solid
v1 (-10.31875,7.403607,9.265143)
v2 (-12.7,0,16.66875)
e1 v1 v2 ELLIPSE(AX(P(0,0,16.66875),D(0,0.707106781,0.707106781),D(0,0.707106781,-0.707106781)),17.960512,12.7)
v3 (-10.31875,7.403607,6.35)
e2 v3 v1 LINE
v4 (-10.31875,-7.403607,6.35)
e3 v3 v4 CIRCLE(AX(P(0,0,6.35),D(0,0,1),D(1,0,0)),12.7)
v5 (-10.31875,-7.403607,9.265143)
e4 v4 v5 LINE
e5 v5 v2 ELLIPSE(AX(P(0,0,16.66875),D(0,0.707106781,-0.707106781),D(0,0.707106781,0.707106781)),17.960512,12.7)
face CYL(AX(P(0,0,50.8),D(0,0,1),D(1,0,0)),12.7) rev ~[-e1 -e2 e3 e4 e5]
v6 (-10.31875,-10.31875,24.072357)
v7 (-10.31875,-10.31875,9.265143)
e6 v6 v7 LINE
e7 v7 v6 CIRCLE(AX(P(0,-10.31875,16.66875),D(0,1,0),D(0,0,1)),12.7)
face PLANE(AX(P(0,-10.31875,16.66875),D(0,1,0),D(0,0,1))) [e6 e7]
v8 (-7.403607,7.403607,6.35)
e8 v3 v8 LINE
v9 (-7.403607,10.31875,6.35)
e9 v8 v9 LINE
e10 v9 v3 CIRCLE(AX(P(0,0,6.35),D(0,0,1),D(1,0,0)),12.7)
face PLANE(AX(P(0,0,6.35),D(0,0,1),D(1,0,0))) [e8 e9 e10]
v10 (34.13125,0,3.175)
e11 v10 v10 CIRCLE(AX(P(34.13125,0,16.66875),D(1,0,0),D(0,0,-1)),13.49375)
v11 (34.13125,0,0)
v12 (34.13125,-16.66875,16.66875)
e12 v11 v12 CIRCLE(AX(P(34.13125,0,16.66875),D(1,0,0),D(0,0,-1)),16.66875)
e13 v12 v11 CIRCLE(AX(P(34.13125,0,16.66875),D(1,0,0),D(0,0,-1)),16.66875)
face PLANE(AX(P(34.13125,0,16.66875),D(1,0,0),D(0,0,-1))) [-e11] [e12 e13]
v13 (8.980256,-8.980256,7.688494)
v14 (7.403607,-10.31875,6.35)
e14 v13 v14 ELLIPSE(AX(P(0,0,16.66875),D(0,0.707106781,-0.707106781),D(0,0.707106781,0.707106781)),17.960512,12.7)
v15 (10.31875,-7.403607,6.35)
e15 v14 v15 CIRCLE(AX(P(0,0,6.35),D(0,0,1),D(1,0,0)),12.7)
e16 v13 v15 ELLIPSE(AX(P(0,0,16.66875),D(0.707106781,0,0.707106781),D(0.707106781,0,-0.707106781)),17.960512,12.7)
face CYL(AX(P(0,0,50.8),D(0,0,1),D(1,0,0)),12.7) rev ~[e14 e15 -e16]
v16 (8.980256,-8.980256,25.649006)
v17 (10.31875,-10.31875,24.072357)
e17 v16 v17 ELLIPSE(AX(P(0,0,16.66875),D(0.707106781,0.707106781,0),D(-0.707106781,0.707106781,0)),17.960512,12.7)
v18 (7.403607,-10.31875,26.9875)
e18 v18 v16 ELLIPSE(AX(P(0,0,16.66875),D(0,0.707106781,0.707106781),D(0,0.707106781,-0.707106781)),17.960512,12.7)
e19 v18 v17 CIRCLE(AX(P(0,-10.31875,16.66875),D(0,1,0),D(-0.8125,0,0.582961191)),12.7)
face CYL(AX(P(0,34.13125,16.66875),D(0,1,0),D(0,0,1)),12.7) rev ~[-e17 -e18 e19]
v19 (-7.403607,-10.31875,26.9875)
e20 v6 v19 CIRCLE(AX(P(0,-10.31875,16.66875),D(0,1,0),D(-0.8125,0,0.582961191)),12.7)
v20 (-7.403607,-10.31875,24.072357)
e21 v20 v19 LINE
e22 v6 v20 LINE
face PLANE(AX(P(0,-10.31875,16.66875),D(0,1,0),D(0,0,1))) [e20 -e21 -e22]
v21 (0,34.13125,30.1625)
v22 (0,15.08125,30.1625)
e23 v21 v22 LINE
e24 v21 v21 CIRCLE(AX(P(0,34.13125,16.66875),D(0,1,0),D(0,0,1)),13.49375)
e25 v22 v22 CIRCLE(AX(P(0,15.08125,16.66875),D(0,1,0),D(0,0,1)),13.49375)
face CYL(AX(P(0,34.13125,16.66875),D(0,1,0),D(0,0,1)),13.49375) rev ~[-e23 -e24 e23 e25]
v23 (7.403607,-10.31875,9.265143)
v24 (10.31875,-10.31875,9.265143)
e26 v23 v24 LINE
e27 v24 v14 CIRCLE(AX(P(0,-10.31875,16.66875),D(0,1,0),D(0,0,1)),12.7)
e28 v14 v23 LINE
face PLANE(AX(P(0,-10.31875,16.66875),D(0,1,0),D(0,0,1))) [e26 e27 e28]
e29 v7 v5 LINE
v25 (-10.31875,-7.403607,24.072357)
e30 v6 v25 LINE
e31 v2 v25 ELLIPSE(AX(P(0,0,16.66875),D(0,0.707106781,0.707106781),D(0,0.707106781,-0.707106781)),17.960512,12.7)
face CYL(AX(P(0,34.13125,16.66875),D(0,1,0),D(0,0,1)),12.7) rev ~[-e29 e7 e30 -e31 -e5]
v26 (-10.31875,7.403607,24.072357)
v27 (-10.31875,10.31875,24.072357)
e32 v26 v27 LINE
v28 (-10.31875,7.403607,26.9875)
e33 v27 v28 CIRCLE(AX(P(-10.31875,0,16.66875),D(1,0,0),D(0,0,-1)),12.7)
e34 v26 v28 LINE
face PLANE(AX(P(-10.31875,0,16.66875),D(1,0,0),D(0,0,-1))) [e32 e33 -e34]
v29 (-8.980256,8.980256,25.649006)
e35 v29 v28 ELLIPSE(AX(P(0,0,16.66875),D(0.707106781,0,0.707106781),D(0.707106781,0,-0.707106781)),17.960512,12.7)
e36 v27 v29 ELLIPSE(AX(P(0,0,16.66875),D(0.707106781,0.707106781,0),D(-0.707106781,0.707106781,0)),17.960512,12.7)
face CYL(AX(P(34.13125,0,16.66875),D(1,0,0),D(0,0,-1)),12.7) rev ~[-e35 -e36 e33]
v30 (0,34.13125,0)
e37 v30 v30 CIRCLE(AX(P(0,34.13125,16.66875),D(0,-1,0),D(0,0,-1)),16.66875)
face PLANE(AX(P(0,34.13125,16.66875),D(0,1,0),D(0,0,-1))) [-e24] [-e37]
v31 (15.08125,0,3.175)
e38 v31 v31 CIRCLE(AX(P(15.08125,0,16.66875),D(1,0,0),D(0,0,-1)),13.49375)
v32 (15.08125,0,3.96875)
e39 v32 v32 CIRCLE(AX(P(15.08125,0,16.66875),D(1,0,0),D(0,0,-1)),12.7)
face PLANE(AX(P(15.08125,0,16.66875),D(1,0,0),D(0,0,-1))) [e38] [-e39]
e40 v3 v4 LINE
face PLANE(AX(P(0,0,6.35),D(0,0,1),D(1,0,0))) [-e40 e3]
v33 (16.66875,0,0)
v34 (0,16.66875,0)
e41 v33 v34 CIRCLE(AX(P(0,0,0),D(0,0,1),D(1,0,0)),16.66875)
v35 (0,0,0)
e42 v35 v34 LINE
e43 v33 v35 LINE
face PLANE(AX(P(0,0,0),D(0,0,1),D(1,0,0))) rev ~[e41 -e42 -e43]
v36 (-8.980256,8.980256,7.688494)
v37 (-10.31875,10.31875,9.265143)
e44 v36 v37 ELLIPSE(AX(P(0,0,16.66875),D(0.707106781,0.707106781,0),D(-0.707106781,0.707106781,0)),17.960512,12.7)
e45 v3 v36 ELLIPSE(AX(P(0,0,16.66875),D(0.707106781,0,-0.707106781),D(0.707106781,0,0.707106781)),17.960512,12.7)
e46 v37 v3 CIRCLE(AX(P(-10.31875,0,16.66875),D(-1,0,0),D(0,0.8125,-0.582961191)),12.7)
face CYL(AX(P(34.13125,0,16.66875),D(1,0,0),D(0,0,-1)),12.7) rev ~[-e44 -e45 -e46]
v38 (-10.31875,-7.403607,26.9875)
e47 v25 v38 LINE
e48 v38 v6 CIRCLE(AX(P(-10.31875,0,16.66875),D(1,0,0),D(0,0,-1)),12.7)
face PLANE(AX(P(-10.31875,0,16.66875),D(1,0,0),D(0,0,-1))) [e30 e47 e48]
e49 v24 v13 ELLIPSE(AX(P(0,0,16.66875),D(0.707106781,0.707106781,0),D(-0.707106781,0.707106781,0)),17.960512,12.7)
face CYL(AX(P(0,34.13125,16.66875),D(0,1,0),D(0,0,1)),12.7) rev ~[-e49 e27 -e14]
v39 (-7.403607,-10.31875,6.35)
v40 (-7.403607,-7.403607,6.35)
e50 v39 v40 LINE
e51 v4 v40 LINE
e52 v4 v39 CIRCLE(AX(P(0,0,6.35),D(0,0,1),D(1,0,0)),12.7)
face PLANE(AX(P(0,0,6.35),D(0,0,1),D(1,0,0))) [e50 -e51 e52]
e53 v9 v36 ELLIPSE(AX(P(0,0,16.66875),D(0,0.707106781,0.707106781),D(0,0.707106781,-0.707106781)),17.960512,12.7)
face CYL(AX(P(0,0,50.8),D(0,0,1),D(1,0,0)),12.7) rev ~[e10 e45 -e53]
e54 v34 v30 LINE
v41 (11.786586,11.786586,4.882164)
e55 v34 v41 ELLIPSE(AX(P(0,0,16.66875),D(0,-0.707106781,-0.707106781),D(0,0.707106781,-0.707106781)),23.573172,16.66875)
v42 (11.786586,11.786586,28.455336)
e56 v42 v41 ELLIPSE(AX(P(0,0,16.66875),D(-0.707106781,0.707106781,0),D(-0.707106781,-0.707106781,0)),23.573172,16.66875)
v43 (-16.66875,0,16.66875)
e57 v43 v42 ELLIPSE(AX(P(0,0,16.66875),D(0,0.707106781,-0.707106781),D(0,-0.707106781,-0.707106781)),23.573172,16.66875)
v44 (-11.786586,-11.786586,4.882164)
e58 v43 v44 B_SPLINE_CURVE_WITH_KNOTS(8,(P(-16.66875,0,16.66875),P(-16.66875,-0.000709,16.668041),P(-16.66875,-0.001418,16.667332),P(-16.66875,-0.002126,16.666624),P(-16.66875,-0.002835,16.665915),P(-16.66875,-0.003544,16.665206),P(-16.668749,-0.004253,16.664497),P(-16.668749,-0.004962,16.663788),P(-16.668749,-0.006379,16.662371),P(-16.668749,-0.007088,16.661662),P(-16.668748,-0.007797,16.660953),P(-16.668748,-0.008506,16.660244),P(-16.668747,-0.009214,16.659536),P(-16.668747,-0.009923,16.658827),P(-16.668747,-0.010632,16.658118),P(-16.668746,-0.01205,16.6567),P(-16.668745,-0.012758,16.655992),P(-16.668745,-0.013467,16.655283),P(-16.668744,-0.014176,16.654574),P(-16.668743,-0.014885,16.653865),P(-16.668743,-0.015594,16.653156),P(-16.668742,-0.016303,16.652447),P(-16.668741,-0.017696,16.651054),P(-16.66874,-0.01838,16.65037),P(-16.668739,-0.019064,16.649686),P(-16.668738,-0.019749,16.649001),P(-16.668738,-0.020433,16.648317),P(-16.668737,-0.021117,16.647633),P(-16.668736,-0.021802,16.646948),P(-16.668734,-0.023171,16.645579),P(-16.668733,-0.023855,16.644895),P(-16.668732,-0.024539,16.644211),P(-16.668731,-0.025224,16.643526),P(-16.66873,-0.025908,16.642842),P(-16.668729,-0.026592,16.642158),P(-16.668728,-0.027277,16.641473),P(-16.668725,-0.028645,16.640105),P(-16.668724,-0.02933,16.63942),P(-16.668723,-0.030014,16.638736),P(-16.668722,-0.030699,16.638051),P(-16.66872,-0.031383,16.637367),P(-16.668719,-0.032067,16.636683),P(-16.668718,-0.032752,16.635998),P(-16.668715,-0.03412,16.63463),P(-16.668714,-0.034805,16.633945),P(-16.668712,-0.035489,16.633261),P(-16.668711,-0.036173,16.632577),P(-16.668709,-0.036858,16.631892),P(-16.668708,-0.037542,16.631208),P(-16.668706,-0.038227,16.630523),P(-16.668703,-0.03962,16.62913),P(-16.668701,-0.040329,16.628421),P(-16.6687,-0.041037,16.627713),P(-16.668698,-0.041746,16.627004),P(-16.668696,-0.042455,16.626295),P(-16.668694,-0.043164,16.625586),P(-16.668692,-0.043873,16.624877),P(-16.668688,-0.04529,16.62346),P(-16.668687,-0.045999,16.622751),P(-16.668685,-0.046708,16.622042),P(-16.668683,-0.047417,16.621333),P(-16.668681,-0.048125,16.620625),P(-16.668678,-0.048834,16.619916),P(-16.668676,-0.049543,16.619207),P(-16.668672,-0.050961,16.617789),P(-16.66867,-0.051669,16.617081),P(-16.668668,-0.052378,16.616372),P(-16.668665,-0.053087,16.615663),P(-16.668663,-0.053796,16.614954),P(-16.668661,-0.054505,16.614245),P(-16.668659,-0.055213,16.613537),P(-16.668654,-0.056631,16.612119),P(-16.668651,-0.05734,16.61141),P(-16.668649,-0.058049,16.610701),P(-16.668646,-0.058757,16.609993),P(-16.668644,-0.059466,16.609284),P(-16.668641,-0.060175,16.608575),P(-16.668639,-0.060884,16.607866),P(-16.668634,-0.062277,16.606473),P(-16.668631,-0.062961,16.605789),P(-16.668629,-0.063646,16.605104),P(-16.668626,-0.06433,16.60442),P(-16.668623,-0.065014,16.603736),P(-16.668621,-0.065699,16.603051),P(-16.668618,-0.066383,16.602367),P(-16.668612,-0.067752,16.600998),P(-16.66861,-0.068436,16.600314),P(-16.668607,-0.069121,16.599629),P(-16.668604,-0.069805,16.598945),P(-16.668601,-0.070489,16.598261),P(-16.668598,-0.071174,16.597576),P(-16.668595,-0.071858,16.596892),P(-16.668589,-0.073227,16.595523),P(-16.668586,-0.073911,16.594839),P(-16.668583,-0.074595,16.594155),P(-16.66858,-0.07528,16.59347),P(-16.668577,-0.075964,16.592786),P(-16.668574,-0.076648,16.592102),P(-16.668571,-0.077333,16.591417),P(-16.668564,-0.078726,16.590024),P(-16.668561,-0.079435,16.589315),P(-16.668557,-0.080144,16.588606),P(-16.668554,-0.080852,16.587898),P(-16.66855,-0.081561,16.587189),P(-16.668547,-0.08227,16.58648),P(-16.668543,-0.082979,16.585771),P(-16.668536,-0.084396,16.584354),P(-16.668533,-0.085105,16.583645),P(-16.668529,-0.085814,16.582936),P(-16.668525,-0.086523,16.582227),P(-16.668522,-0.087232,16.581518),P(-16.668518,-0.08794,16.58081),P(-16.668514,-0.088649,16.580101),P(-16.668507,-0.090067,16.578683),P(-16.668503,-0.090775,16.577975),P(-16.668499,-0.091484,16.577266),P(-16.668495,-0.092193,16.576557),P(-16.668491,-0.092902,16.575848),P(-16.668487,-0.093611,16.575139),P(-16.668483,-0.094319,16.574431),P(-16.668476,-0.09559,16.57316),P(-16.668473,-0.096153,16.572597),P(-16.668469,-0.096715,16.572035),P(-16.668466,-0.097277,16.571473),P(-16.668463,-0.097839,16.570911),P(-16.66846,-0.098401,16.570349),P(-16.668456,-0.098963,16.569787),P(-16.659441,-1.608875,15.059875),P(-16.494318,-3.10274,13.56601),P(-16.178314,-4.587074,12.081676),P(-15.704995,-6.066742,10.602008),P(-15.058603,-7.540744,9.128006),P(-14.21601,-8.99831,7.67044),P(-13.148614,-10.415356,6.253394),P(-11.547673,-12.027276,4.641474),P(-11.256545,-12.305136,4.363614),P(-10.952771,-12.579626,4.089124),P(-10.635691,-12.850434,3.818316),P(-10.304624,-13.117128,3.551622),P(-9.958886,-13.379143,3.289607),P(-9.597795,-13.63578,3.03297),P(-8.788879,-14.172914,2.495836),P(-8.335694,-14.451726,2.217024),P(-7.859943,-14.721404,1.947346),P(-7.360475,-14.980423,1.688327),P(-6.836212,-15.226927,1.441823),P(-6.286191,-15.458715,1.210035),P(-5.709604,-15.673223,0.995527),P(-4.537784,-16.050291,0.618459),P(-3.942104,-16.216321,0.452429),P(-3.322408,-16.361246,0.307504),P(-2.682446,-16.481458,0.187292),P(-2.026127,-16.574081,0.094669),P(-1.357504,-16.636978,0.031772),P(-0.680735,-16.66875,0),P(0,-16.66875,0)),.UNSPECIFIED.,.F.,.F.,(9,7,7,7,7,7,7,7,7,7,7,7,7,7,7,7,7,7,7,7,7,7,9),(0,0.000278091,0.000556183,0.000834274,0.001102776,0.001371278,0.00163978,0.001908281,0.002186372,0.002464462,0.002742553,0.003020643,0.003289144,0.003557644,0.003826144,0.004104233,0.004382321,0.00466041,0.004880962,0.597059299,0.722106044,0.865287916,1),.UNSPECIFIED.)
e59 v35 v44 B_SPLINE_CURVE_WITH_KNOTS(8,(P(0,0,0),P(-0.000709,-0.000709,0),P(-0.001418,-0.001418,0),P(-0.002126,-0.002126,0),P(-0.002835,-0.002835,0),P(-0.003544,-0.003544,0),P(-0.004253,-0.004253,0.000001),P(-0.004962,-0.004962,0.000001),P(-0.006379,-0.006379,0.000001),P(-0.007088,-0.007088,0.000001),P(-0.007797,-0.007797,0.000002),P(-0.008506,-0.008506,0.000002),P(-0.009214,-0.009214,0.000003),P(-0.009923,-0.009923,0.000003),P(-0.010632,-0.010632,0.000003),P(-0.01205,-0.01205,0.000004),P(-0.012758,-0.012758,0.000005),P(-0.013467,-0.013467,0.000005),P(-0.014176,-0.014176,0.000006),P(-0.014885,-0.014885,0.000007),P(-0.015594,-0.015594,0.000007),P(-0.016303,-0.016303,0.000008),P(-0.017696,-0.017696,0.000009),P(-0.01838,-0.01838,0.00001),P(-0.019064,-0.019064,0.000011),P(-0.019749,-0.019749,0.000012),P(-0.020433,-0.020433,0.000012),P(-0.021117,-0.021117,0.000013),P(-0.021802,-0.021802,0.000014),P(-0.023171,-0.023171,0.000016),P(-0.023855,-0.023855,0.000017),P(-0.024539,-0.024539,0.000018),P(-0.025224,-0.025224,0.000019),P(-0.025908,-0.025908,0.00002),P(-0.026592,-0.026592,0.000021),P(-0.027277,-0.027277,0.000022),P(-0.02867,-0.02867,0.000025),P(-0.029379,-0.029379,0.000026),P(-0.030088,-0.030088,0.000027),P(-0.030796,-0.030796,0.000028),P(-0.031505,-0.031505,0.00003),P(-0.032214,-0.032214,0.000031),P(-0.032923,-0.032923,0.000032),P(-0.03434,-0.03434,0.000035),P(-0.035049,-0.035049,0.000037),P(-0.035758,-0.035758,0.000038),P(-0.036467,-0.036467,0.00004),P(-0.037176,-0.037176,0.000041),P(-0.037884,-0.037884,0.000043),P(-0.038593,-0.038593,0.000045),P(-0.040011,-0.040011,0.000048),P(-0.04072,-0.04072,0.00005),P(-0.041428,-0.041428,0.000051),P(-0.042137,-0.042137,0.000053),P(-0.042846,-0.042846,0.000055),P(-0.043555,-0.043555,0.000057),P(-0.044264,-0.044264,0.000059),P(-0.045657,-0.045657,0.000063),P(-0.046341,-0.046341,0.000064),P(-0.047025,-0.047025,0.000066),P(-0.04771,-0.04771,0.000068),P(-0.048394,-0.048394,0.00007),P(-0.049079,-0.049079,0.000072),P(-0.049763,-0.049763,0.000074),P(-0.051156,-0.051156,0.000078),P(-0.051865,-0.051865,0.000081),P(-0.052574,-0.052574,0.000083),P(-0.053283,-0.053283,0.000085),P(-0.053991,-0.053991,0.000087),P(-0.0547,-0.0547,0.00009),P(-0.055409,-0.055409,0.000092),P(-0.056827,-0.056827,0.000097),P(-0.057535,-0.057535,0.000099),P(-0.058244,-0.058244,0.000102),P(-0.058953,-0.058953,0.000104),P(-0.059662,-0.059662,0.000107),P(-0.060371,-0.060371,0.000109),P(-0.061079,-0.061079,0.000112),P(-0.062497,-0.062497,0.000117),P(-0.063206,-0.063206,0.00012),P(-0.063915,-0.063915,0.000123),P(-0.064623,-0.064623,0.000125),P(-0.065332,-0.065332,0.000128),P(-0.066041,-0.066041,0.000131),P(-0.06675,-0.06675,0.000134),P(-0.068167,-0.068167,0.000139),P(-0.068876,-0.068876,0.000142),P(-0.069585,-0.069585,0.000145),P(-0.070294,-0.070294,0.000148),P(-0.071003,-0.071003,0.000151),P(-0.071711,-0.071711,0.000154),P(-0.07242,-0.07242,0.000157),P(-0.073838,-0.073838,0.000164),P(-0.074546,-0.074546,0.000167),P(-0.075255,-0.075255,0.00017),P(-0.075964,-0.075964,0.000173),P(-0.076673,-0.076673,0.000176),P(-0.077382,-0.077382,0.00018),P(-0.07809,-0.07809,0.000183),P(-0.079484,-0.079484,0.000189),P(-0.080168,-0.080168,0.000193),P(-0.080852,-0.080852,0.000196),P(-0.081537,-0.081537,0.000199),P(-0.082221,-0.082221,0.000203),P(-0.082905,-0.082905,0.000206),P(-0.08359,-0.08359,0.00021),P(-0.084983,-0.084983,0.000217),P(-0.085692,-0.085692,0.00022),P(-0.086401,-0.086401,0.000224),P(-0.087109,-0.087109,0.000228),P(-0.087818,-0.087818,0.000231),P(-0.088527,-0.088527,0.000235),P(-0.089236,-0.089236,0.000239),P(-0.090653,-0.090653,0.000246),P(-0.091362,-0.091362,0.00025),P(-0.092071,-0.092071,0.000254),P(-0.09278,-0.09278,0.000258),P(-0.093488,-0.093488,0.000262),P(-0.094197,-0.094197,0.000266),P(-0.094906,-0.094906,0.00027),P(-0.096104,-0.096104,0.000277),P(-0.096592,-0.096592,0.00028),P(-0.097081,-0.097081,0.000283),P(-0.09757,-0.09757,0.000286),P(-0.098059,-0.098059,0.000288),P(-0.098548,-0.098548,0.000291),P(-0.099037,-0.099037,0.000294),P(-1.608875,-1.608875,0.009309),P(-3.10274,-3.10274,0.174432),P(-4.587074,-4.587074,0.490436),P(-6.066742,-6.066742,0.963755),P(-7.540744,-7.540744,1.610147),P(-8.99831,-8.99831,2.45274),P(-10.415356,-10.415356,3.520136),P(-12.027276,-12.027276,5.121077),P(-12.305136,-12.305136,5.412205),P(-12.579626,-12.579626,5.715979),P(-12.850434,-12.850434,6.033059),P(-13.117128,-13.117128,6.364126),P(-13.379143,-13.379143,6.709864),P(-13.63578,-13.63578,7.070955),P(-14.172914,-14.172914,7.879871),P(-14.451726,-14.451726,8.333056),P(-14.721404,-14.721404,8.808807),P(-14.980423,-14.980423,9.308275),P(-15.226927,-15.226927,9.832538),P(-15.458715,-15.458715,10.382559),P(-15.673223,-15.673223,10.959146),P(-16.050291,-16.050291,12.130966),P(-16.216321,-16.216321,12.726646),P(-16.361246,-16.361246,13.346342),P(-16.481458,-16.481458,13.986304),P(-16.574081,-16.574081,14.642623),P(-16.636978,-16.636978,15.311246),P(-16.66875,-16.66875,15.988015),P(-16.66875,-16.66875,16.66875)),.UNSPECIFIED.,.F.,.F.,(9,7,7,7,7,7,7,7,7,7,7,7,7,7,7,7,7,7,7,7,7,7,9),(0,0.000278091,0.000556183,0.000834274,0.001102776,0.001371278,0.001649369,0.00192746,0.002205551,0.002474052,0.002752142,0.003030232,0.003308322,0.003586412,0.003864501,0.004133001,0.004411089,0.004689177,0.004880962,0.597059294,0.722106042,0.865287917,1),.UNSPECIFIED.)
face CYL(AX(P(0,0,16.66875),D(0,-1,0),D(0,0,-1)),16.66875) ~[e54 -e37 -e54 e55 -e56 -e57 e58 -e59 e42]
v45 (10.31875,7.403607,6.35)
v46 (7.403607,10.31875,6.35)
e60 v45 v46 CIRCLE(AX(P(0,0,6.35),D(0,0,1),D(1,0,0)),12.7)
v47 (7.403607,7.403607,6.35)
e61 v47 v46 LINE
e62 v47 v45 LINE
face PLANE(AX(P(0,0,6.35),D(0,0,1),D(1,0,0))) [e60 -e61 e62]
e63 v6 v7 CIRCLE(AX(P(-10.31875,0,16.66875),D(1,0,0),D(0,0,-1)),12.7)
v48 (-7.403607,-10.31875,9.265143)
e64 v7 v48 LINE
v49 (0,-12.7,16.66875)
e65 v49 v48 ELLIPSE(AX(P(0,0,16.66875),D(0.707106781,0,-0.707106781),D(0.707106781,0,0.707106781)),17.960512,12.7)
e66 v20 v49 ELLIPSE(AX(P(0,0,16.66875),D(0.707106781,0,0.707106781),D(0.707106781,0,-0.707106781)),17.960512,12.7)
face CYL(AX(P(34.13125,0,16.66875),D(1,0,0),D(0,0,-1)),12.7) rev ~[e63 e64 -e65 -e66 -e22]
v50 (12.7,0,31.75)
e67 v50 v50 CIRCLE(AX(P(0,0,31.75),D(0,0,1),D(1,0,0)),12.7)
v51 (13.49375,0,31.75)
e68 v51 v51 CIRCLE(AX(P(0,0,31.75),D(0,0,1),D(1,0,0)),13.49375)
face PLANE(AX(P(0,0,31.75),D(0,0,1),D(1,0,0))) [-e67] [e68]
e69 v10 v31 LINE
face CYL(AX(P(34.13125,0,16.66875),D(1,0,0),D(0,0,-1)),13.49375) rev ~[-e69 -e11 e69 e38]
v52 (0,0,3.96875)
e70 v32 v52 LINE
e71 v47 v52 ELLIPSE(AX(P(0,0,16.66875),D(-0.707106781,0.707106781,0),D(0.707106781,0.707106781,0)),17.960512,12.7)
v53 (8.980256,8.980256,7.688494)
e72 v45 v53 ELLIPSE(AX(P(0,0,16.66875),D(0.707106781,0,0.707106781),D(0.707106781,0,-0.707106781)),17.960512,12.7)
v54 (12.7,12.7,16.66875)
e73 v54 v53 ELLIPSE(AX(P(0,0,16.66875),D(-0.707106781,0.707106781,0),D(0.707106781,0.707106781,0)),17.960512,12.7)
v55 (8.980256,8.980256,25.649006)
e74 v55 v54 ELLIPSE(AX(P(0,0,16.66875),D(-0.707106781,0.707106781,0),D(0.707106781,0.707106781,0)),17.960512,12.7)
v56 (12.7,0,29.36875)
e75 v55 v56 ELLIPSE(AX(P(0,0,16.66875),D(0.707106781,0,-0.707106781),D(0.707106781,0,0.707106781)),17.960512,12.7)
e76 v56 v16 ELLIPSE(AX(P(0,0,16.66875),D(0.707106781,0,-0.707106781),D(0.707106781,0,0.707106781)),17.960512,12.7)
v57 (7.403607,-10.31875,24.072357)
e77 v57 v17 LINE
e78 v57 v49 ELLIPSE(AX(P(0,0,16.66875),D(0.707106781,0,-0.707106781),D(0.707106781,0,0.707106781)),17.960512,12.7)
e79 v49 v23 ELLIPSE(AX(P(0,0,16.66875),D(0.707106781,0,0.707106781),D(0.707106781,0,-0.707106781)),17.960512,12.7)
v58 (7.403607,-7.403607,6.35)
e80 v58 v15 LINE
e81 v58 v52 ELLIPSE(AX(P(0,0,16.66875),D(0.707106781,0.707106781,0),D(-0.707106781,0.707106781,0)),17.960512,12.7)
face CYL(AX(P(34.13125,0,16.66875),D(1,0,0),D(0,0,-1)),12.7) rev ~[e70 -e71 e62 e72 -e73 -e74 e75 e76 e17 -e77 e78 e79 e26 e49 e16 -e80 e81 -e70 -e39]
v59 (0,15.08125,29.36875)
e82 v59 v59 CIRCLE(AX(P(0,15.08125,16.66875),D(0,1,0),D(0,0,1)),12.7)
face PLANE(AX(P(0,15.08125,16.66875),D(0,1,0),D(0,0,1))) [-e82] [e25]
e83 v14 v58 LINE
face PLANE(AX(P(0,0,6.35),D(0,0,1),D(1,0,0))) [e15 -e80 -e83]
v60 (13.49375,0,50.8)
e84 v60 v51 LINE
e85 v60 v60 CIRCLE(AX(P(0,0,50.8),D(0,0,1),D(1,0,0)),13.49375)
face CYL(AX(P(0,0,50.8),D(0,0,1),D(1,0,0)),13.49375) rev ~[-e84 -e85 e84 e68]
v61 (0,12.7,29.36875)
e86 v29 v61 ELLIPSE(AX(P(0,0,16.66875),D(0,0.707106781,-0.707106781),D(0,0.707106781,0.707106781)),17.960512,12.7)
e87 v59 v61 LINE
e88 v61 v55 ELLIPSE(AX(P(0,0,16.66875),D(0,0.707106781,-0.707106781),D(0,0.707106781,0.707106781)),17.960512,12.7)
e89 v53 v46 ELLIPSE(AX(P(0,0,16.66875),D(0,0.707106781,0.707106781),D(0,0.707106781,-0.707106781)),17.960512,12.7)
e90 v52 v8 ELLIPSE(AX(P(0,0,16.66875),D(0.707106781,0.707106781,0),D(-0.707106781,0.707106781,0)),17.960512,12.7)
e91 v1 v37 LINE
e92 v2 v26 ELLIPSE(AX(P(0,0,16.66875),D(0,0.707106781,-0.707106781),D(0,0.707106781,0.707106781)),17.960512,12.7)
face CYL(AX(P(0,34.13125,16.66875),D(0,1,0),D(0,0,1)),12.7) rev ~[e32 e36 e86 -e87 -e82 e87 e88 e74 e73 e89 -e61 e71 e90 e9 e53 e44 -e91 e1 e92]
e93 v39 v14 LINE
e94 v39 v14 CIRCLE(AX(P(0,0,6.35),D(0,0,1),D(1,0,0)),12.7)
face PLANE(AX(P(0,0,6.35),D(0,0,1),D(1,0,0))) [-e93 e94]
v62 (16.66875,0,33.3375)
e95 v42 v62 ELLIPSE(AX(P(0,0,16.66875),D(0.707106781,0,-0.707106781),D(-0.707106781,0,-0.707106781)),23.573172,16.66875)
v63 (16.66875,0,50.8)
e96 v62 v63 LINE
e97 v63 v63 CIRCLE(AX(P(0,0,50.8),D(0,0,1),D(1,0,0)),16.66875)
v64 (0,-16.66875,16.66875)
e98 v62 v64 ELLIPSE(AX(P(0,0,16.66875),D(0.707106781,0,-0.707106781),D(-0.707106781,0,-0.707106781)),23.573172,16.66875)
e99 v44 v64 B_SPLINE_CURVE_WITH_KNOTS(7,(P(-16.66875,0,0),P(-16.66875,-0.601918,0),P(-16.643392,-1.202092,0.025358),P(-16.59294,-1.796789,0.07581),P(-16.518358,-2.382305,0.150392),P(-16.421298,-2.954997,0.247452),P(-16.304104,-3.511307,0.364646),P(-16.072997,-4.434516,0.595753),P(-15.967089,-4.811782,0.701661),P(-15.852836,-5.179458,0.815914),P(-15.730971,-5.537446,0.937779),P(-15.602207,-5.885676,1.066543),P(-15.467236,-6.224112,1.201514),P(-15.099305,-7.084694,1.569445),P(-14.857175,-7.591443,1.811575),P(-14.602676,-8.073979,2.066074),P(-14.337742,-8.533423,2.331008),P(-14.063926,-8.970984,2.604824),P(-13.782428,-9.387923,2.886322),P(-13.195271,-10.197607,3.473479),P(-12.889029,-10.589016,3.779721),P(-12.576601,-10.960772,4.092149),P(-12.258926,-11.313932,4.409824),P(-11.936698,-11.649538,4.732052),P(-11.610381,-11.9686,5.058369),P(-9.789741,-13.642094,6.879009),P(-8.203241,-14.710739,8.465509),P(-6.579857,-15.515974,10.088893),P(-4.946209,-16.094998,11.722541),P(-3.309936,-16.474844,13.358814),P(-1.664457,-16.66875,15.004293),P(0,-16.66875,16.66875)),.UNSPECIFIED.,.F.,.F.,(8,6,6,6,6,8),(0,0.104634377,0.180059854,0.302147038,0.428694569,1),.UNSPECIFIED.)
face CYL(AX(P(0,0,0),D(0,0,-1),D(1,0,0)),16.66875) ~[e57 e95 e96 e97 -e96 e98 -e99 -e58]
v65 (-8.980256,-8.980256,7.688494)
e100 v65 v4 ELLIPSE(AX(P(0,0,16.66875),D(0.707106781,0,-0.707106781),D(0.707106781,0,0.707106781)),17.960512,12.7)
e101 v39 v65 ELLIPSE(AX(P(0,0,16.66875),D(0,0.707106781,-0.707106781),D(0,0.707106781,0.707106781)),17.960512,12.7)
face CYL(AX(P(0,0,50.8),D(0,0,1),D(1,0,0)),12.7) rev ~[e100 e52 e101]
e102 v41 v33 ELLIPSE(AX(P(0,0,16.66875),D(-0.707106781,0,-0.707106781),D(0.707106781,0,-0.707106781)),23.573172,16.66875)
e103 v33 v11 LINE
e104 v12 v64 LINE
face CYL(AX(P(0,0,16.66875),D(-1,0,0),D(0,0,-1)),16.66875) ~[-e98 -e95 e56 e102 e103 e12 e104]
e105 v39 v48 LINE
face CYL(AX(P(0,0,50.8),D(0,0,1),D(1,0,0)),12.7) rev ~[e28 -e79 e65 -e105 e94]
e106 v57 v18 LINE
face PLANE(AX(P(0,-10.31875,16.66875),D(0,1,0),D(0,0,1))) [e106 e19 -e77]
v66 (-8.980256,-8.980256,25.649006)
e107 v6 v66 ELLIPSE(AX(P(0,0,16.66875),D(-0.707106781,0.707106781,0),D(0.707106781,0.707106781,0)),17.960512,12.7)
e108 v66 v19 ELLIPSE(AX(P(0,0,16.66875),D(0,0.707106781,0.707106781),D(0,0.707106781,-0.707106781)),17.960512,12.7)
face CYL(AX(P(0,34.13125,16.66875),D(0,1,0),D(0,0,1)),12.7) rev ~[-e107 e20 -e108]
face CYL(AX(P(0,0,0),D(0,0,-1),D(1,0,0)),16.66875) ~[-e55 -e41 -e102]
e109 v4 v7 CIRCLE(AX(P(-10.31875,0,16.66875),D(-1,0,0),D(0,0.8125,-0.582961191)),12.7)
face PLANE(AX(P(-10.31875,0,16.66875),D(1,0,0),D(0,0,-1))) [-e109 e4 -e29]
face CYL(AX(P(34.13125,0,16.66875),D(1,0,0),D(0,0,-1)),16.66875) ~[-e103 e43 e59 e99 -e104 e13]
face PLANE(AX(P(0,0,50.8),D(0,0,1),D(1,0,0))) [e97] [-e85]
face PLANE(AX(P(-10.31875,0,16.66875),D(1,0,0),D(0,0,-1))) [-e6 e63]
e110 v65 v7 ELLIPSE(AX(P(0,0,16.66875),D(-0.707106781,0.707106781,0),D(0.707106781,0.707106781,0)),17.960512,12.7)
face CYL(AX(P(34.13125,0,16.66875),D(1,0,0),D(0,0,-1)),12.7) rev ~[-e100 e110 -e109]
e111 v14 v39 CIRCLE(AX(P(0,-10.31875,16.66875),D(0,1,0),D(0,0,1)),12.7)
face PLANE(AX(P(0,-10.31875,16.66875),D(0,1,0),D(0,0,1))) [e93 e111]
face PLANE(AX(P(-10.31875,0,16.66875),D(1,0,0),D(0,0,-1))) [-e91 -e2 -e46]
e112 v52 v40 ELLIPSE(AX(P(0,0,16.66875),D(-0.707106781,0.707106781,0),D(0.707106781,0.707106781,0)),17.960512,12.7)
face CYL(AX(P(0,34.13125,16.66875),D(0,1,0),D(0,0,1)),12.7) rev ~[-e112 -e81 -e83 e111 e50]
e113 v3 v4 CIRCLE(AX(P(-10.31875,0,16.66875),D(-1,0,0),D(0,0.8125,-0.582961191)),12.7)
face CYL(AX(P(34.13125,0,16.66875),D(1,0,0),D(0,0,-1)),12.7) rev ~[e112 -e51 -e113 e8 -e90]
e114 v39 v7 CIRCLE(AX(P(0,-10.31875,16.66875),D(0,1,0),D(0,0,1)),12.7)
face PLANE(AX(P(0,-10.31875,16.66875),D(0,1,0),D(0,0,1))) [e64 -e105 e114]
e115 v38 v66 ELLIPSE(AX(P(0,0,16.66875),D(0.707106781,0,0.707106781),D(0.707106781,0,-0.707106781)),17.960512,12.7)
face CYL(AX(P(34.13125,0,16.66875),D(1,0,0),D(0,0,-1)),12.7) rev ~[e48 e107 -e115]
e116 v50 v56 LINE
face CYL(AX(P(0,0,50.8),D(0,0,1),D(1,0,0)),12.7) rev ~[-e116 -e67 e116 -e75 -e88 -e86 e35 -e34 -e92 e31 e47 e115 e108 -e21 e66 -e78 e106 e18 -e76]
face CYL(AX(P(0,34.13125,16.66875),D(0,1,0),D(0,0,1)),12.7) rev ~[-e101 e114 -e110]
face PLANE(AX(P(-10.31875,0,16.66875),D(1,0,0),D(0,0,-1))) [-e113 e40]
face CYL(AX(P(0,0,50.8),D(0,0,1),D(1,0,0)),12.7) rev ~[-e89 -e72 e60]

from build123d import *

# Parameters (mm, degrees)
SKETCH1_R               = 16.66875
BOSS_EXTRUDE1_DEPTH     = 50.8
SKETCH2_R               = 16.66875
BOSS_EXTRUDE2_DEPTH     = 34.13125
SKETCH3_R               = 16.66875
BOSS_EXTRUDE3_DEPTH     = 34.13125
CUT_EXTRUDE1_DEPTH      = 71.075134343
CUT_EXTRUDE1_DEPTH_BACK = 71.075134343
CUT_EXTRUDE2_DEPTH      = 80.537552304
SKETCH8_R               = 12.7
CUT_EXTRUDE3_DEPTH      = 44.45
SKETCH9_R               = 13.49375
CUT_EXTRUDE4_DEPTH      = 19.05
SKETCH10_R              = 12.7
CUT_EXTRUDE5_DEPTH      = 44.45
SKETCH11_R              = 13.49375
CUT_EXTRUDE6_DEPTH      = 19.05
SKETCH12_R              = 12.7
CUT_EXTRUDE7_DEPTH      = 44.45
SKETCH13_R              = 13.49375
CUT_EXTRUDE8_DEPTH      = 19.05


with BuildPart() as part:
    # Sketch1 → Boss-Extrude1 (new body)
    with BuildSketch(Plane.XY):
        Circle(SKETCH1_R)
    extrude(amount=BOSS_EXTRUDE1_DEPTH)

    # Sketch2 → Boss-Extrude2 (add)
    with BuildSketch(Plane(origin=(0, 0, 0), x_dir=(0, 0, -1), z_dir=(1, 0, 0))):
        with Locations((-16.66875, 0)):
            Circle(SKETCH2_R)
    extrude(amount=BOSS_EXTRUDE2_DEPTH)

    # Sketch3 → Boss-Extrude3 (add)
    with BuildSketch(Plane(origin=(0, 0, 0), x_dir=(1, 0, 0), z_dir=(0, 1, 0))):
        with Locations(Location((0, -16.66875, 0), (0, 0, 90))):
            Circle(SKETCH3_R)
    extrude(amount=BOSS_EXTRUDE3_DEPTH)

    # Sketch4 → Cut-Extrude1 (cut, two sides: drawn at the far end of the back side and taken through both)
    with BuildSketch(Plane(origin=(0, 0, 0), x_dir=(1, 0, 0), z_dir=(0, 1, 0)).offset(-CUT_EXTRUDE1_DEPTH_BACK)):
        with BuildLine():
            Line((-16.66875, -16.66875), (-16.66875, 0))
            Line((-16.66875, 0), (0, 0))
            ThreePointArc((0, 0), (-11.786586159, -4.882163841), (-16.66875, -16.66875))
        make_face()
    extrude(amount=CUT_EXTRUDE1_DEPTH + CUT_EXTRUDE1_DEPTH_BACK, mode=Mode.SUBTRACT)

    # Sketch5 → Cut-Extrude2 (cut, through all)
    with BuildSketch(Plane(origin=(34.13125, 0, 0), x_dir=(0, 0, -1), z_dir=(1, 0, 0))):
        with BuildLine():
            Line((-16.66875, -16.66875), (0, -16.66875))
            Line((0, -16.66875), (0, 0))
            ThreePointArc((0, 0), (-4.882163841, -11.786586159), (-16.66875, -16.66875))
        make_face()
    extrude(amount=-CUT_EXTRUDE2_DEPTH, mode=Mode.SUBTRACT)

    # Sketch8 → Cut-Extrude3 (cut)
    with BuildSketch(Plane(origin=(0, 34.13125, 0), x_dir=(1, 0, 0), z_dir=(0, 1, 0))):
        with Locations(Location((0, -16.66875, 0), (0, 0, 270))):
            Circle(SKETCH8_R)
    extrude(amount=-CUT_EXTRUDE3_DEPTH, mode=Mode.SUBTRACT)

    # Sketch9 → Cut-Extrude4 (cut)
    with BuildSketch(Plane(origin=(0, 34.13125, 0), x_dir=(1, 0, 0), z_dir=(0, 1, 0))):
        with Locations(Location((0, -16.66875, 0), (0, 0, 270))):
            Circle(SKETCH9_R)
    extrude(amount=-CUT_EXTRUDE4_DEPTH, mode=Mode.SUBTRACT)

    # Sketch10 → Cut-Extrude5 (cut)
    with BuildSketch(Plane(origin=(34.13125, 0, 0), x_dir=(0, 0, -1), z_dir=(1, 0, 0))):
        with Locations((-16.66875, 0)):
            Circle(SKETCH10_R)
    extrude(amount=-CUT_EXTRUDE5_DEPTH, mode=Mode.SUBTRACT)

    # Sketch11 → Cut-Extrude6 (cut)
    with BuildSketch(Plane(origin=(34.13125, 0, 0), x_dir=(0, 0, -1), z_dir=(1, 0, 0))):
        with Locations((-16.66875, 0)):
            Circle(SKETCH11_R)
    extrude(amount=-CUT_EXTRUDE6_DEPTH, mode=Mode.SUBTRACT)

    # Sketch12 → Cut-Extrude7 (cut)
    with BuildSketch(Plane.XY.offset(50.8)):
        Circle(SKETCH12_R)
    extrude(amount=-CUT_EXTRUDE7_DEPTH, mode=Mode.SUBTRACT)

    # Sketch13 → Cut-Extrude8 (cut)
    with BuildSketch(Plane.XY.offset(50.8)):
        Circle(SKETCH13_R)
    extrude(amount=-CUT_EXTRUDE8_DEPTH, mode=Mode.SUBTRACT)


solid = part.part
